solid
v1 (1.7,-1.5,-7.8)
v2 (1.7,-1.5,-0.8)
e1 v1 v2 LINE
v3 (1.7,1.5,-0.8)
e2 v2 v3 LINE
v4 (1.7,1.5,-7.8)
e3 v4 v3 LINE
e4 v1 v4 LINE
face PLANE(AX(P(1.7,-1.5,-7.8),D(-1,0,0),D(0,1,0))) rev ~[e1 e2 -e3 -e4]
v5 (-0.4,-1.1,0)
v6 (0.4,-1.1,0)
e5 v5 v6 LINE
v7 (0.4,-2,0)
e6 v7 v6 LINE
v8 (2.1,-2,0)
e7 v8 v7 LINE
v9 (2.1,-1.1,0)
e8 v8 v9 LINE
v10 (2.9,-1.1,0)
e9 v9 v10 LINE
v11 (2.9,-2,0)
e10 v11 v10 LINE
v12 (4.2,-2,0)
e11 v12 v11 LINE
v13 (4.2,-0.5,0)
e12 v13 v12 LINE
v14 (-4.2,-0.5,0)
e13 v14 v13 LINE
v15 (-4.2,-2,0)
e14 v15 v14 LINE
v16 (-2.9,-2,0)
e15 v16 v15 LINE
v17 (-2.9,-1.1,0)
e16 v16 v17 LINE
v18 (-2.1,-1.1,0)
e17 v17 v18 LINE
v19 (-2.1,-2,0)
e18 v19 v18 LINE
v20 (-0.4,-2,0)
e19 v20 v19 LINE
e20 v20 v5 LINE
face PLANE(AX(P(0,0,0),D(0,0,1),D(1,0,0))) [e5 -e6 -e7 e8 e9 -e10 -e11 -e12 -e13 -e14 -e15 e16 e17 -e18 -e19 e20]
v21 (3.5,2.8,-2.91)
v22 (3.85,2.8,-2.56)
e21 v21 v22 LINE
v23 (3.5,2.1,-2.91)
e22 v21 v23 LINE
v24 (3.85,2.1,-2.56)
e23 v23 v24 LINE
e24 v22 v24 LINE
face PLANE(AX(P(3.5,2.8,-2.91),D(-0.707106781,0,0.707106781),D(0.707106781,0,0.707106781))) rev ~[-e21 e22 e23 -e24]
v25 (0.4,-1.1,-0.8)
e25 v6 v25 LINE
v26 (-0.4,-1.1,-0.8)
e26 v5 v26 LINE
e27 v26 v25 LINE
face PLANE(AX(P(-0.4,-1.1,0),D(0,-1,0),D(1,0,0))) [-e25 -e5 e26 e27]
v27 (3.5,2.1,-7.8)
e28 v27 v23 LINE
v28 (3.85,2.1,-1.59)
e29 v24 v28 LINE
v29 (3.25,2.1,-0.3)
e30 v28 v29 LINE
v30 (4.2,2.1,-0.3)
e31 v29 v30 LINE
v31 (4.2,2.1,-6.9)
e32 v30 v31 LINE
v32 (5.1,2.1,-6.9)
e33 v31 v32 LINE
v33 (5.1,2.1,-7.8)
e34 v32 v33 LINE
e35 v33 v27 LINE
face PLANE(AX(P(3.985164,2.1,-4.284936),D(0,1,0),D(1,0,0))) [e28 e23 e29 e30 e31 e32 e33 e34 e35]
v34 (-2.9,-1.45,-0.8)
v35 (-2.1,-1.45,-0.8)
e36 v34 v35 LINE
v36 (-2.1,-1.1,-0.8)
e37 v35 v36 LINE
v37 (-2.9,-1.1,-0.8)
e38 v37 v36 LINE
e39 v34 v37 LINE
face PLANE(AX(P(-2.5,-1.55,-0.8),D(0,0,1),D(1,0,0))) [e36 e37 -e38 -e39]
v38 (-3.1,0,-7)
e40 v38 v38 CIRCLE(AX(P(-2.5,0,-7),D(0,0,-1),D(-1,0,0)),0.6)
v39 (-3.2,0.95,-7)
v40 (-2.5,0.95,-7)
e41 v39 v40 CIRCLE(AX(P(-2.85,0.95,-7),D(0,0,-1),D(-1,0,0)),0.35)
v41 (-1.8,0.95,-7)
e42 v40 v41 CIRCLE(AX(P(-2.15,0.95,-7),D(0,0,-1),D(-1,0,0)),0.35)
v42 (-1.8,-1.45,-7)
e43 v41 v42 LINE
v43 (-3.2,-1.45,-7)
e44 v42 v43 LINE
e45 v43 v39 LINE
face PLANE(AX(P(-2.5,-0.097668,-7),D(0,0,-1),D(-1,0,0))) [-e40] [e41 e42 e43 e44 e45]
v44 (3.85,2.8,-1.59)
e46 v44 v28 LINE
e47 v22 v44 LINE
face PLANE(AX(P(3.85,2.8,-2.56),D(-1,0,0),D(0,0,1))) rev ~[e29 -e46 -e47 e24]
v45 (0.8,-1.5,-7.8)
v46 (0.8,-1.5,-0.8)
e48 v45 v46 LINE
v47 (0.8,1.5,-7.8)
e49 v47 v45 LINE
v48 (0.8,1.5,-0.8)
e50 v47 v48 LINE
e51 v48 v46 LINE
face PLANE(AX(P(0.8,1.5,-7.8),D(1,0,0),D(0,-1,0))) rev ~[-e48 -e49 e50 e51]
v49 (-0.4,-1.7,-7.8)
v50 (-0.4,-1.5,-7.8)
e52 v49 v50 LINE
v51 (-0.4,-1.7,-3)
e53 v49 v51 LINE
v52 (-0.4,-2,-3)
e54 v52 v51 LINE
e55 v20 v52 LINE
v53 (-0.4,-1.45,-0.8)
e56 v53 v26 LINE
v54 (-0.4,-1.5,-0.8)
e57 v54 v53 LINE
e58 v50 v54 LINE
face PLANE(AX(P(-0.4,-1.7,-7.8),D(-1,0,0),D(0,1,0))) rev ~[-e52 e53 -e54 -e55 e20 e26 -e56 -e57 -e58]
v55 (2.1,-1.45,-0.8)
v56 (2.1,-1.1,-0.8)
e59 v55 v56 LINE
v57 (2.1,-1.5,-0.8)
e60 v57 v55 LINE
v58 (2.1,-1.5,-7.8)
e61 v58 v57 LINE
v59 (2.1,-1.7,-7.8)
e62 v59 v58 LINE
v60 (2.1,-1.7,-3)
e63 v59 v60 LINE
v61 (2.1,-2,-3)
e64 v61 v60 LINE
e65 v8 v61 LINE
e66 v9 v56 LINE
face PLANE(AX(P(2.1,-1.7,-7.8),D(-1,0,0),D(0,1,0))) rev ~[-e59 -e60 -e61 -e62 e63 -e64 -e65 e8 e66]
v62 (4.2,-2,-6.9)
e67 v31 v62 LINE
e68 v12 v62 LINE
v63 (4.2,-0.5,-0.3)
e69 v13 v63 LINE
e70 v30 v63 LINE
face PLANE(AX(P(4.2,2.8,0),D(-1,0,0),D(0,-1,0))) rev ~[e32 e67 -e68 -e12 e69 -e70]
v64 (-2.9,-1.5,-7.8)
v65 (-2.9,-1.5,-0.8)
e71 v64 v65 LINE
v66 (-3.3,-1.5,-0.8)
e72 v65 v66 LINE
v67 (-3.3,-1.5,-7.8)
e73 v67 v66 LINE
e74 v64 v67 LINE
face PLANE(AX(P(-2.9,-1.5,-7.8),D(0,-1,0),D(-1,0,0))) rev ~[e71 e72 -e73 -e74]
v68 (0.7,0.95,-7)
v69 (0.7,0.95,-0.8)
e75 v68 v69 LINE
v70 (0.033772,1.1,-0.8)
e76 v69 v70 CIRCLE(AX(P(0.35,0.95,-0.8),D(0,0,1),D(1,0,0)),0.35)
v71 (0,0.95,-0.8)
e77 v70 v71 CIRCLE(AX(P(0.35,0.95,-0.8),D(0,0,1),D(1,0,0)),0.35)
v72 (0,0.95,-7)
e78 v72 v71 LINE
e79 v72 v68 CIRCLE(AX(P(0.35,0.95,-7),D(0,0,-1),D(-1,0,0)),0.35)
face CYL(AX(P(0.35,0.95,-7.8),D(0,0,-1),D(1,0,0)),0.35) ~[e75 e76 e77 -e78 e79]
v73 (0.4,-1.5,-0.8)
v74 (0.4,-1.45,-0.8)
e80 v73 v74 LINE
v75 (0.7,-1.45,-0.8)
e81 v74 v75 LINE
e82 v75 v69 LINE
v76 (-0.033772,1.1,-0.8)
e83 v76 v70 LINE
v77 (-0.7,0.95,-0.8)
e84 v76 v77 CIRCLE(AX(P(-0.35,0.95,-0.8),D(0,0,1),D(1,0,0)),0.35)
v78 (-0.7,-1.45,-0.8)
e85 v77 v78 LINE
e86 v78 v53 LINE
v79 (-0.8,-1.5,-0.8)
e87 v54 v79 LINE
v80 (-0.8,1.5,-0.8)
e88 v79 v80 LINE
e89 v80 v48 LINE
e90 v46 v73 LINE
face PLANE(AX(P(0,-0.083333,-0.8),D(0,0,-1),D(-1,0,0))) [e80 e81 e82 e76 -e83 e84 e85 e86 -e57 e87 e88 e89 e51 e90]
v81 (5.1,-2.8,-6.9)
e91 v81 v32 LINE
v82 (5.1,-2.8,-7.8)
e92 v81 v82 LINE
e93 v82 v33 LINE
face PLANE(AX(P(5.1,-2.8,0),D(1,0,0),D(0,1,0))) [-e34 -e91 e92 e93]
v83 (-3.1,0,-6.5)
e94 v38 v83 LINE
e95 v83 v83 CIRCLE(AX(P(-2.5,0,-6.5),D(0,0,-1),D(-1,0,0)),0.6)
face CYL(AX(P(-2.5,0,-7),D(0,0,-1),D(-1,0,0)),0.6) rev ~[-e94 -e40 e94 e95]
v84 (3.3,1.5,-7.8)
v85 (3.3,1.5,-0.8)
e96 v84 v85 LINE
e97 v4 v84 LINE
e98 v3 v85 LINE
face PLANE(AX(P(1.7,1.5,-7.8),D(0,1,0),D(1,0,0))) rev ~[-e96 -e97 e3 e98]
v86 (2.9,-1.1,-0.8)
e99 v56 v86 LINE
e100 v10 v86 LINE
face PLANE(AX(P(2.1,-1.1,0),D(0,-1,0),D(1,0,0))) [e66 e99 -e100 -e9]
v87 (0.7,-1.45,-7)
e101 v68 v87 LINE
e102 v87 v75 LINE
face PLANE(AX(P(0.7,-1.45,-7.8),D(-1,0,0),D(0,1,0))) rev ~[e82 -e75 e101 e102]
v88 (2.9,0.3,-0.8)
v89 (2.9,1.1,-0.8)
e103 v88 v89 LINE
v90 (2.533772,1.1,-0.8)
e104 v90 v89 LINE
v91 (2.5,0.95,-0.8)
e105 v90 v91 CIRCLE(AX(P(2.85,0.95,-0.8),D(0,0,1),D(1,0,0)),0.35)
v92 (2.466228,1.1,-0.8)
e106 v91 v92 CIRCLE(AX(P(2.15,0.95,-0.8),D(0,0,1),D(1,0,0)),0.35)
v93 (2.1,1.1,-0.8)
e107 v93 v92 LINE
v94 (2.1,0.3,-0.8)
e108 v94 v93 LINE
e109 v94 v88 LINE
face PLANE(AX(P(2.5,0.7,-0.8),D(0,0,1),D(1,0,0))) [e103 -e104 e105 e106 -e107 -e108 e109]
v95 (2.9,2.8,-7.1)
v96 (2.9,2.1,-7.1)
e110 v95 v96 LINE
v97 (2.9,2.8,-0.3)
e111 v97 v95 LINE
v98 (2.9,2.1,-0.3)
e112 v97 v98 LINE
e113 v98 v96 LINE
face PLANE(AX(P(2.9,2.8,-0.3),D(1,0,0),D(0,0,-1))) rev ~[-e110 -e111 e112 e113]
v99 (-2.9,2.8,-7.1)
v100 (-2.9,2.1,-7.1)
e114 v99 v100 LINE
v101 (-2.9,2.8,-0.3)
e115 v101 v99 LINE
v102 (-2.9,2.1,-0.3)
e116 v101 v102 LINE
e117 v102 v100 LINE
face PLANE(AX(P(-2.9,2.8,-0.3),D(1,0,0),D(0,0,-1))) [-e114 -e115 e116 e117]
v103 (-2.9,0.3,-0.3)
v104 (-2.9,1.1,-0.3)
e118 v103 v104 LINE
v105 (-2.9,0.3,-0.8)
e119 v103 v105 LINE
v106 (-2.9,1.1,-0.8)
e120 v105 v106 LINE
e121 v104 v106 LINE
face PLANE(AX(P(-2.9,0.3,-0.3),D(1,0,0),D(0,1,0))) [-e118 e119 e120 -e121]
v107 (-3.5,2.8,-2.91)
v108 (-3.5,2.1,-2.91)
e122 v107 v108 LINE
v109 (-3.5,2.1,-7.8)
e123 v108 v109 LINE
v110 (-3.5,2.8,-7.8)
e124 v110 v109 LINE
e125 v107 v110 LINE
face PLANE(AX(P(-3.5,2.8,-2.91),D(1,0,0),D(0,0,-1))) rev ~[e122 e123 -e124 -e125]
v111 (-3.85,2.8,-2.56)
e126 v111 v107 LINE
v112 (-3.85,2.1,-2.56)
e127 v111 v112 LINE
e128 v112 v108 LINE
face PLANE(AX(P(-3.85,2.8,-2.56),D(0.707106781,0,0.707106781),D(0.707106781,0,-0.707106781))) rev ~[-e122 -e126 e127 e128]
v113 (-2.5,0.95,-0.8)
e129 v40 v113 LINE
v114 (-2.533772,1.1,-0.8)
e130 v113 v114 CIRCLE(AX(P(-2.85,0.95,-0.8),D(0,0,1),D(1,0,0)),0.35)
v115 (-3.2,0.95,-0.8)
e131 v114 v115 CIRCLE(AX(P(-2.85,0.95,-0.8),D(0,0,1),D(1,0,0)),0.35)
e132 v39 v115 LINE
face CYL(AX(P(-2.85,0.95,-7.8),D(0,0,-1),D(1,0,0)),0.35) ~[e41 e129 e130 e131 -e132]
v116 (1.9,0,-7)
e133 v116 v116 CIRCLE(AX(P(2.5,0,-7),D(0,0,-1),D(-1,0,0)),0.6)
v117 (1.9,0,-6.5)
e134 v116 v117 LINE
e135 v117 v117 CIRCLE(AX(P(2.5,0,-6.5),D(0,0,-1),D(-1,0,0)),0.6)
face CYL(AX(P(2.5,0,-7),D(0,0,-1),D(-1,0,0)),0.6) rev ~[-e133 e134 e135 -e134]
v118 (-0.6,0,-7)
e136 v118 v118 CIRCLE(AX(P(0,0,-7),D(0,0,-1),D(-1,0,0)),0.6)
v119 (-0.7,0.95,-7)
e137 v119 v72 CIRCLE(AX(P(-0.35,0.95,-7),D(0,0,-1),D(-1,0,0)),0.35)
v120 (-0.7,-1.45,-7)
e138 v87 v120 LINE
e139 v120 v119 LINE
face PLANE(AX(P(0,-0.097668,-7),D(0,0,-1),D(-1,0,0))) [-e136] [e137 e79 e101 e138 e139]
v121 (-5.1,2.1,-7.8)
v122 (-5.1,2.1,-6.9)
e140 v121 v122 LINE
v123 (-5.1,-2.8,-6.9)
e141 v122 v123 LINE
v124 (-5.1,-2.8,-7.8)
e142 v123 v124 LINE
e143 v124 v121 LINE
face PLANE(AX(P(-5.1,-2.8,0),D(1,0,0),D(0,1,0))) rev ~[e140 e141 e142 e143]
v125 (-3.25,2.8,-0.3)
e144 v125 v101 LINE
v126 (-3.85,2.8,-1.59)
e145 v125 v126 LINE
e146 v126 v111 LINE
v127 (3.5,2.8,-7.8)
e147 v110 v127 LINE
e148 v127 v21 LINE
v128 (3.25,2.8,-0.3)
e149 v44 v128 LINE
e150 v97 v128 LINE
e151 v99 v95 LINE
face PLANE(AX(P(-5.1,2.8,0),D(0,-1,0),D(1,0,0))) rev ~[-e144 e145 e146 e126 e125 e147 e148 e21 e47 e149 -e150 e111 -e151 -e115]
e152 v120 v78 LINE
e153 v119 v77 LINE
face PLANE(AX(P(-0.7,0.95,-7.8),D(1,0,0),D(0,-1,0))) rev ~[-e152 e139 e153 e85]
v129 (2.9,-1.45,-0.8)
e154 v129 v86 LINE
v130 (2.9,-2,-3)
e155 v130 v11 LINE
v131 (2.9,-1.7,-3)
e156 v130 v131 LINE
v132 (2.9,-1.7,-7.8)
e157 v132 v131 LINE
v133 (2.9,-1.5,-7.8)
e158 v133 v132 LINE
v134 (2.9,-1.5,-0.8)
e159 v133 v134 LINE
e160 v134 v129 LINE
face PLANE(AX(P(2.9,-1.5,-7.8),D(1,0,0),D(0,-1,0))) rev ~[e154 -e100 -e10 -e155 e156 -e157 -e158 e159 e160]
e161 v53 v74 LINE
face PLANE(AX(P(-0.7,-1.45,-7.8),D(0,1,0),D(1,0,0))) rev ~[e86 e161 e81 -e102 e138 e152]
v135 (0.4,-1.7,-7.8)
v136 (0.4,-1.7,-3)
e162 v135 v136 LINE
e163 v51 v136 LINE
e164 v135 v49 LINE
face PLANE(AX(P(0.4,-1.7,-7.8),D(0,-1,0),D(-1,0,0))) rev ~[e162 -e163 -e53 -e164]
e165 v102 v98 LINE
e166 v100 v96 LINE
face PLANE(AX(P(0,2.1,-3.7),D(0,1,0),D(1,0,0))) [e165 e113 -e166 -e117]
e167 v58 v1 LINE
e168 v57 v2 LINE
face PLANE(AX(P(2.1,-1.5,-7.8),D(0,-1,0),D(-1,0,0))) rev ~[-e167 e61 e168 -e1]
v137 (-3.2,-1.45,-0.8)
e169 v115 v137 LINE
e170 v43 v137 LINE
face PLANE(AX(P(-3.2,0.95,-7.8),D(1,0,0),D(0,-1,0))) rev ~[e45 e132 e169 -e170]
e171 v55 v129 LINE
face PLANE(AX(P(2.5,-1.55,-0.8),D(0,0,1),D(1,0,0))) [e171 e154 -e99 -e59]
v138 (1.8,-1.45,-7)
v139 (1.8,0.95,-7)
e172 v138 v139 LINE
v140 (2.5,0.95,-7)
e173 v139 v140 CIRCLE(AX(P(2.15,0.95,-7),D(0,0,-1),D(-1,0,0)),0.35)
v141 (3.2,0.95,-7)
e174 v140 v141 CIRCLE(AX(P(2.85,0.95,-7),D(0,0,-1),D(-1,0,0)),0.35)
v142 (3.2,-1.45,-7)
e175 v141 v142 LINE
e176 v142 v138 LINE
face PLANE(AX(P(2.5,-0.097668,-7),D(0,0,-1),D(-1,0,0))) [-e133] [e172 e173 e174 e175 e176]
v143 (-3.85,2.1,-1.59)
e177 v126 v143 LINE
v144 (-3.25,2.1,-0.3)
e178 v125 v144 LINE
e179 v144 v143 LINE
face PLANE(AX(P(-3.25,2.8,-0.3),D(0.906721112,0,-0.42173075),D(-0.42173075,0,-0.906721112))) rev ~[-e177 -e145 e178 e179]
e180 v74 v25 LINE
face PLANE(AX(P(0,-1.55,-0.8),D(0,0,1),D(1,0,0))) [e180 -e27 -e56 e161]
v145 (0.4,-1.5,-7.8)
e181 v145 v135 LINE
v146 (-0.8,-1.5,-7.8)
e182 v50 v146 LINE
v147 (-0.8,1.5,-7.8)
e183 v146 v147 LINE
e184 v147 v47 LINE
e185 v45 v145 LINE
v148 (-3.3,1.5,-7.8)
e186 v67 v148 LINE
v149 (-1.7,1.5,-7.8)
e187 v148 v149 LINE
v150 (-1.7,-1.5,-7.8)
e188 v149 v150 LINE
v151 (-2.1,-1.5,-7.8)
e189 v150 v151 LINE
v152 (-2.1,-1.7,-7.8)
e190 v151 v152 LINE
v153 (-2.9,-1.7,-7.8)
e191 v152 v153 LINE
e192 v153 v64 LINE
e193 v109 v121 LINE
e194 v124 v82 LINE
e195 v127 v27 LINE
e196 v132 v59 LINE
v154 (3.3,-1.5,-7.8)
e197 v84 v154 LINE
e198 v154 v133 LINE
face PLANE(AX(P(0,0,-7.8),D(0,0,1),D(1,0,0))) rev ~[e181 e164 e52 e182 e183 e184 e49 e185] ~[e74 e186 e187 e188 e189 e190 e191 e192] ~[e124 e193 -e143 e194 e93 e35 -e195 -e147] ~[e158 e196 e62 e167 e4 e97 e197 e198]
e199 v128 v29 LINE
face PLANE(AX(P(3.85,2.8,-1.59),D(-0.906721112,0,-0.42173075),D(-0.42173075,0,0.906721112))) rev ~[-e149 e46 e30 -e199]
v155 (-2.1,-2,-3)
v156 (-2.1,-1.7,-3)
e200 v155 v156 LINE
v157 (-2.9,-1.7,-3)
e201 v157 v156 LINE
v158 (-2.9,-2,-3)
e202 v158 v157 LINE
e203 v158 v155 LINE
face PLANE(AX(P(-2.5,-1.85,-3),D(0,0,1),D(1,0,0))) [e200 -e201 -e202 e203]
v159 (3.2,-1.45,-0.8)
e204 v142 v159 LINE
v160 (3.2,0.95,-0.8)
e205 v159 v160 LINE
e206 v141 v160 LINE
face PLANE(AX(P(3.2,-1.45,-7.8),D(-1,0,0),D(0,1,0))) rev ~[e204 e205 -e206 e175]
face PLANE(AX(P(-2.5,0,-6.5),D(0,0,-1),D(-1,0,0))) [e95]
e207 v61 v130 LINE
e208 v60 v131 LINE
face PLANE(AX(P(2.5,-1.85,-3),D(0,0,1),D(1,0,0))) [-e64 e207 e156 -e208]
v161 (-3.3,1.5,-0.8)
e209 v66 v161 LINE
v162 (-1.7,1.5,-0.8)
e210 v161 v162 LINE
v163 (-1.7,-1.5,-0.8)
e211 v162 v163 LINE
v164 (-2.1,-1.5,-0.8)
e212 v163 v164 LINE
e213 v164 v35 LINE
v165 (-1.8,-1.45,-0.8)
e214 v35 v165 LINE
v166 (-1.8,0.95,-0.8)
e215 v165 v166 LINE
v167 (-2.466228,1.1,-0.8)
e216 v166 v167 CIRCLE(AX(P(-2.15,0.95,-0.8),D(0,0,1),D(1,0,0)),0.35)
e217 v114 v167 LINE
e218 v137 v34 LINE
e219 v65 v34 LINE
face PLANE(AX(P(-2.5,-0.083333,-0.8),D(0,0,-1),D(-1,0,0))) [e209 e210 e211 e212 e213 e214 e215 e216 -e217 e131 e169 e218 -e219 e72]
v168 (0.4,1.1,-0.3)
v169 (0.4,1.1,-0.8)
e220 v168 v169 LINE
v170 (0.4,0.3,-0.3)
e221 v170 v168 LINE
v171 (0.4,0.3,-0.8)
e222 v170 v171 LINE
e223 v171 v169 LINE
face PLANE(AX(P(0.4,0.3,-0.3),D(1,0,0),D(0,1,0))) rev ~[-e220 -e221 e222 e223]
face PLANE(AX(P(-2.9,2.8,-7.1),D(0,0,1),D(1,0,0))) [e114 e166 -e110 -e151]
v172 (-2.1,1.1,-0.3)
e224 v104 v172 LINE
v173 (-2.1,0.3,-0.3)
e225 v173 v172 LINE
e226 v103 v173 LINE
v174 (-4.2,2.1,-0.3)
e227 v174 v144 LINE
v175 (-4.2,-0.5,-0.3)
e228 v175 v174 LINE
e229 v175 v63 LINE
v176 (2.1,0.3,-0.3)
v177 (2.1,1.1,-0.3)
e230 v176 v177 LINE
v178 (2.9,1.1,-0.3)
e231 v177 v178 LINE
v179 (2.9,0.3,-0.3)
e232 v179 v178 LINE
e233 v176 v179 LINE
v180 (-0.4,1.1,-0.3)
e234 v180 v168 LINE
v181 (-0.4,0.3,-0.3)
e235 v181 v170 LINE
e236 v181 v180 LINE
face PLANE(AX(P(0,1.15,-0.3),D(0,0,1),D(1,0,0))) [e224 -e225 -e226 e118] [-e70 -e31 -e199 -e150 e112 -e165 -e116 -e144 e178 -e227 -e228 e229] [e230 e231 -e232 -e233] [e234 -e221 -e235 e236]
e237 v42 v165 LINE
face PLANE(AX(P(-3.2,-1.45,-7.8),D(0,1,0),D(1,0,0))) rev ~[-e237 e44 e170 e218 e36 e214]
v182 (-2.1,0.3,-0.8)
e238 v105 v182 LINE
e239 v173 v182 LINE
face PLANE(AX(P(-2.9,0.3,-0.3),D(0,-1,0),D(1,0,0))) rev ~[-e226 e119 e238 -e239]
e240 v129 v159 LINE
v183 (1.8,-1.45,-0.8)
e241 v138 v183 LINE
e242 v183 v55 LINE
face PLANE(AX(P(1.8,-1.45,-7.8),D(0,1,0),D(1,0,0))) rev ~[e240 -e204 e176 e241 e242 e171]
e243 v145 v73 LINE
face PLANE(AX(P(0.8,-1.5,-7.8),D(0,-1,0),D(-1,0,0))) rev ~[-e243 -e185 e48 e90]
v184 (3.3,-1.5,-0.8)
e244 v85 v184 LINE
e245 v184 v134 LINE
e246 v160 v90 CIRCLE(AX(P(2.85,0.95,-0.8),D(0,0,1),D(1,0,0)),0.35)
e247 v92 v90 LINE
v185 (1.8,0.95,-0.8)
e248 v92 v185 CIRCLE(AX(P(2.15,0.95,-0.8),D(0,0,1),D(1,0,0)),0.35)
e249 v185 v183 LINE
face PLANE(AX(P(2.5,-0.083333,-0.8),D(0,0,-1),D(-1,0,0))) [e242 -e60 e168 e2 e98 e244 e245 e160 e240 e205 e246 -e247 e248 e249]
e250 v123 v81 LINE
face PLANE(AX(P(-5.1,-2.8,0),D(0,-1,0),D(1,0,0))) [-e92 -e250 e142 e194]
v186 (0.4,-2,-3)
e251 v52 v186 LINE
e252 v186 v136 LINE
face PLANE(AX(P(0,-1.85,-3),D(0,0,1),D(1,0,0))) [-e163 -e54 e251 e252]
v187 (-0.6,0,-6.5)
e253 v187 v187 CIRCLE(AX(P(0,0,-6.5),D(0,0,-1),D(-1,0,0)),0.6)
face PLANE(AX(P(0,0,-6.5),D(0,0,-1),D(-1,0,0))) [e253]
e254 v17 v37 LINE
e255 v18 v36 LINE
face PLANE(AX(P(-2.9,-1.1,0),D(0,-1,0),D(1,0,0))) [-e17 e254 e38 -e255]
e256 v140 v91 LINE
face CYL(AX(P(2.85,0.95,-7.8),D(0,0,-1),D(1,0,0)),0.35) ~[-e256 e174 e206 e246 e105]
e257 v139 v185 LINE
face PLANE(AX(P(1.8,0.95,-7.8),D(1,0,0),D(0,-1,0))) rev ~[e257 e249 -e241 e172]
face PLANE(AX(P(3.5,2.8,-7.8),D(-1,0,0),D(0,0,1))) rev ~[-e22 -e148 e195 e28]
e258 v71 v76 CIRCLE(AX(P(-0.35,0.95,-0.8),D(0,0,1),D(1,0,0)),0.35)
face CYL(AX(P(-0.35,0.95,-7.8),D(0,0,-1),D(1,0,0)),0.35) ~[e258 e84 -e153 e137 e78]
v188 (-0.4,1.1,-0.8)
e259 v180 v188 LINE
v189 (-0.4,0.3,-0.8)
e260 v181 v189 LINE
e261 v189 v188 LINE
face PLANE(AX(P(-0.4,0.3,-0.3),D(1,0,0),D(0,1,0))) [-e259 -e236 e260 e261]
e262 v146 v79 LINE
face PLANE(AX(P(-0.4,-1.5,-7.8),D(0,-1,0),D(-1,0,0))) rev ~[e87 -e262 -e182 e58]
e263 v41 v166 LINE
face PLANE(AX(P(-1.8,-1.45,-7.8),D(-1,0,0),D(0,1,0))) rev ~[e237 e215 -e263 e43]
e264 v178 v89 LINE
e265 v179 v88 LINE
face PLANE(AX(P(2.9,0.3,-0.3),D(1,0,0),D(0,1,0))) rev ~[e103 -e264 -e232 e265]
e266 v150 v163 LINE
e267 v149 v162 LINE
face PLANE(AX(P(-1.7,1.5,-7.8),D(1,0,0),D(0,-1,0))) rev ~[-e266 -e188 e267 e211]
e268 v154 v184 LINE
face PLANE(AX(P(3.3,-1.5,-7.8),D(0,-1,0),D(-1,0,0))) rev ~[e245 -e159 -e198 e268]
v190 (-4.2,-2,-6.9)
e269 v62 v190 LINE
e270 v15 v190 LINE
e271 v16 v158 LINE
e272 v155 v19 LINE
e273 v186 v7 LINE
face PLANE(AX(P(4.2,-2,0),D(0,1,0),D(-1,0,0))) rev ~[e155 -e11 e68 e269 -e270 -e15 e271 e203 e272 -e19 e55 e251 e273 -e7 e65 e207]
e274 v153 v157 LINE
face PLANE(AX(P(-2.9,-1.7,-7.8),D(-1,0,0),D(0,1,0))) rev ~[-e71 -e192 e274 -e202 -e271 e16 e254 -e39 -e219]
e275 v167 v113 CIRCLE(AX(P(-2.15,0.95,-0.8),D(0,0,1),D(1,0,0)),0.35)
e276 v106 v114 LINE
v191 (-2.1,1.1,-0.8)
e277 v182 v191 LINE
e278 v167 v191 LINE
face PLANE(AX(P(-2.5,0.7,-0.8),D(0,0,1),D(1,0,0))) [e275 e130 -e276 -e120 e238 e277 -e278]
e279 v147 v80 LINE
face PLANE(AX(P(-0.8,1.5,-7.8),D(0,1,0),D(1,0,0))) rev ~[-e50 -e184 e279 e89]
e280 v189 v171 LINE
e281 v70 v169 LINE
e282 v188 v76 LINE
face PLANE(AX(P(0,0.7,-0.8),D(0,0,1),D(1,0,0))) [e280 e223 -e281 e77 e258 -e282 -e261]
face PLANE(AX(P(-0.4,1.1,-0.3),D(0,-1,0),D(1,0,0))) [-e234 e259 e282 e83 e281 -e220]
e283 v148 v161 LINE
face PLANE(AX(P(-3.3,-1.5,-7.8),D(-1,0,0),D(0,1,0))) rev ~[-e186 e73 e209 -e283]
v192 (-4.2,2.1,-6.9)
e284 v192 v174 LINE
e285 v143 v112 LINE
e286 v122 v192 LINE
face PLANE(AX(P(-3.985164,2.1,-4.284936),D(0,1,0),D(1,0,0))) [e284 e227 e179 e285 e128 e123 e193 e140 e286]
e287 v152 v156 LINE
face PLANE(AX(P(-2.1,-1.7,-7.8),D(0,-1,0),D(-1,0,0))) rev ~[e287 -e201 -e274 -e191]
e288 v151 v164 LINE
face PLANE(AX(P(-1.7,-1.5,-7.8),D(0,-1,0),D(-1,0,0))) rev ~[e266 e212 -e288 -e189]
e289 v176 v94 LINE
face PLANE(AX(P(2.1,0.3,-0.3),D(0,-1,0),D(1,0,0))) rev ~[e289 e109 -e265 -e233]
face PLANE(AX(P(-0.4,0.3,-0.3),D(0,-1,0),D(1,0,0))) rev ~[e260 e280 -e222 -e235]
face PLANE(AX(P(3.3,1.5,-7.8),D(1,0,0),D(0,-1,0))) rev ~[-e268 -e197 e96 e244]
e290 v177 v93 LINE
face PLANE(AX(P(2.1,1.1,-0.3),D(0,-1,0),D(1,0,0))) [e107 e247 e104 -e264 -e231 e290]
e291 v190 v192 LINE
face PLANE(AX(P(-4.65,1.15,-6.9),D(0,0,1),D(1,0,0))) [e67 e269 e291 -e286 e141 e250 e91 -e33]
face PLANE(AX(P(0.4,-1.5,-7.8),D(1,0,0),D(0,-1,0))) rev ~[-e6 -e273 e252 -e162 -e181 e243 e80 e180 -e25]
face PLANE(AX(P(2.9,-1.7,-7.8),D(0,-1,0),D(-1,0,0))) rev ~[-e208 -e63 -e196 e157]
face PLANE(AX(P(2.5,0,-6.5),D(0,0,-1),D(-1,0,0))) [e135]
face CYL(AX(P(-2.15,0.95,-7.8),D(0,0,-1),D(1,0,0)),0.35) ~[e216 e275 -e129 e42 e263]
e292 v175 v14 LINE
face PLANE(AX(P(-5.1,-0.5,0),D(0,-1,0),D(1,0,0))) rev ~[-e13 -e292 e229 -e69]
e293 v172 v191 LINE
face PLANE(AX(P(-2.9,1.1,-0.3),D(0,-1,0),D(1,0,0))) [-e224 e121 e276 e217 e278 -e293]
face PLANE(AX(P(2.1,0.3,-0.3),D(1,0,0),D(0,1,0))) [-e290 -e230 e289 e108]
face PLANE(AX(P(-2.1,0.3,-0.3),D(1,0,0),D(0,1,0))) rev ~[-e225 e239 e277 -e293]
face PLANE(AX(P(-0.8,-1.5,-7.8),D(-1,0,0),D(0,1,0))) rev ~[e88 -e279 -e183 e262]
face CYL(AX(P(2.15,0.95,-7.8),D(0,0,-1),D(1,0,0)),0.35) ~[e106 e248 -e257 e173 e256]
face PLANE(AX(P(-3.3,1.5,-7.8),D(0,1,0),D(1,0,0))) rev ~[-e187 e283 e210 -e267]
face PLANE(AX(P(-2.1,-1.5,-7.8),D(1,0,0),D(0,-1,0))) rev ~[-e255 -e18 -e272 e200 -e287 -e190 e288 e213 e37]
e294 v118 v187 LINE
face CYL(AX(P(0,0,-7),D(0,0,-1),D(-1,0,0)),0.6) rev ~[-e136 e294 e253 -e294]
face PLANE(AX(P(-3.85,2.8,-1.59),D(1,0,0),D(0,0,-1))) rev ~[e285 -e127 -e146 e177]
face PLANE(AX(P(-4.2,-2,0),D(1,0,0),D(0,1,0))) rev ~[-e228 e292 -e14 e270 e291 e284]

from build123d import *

# Parameters (mm, degrees)
ESQUISSE1_W             = 10.2
ESQUISSE1_H             = 5.6
BOSS_EXTRU_1_DEPTH      = 7.8
ESQUISSE2_W             = 10.2
ESQUISSE2_H             = 3.3
ENL_V_MAT_EXTRU_1_DEPTH = 0.3
ESQUISSE4_W             = 0.9
ESQUISSE4_H             = 3.3
ENL_V_MAT_EXTRU_2_DEPTH = 6.9
ESQUISSE5_W             = 5.8
ESQUISSE5_H             = 6.8
ENL_V_MAT_EXTRU_3_DEPTH = 0.7
ESQUISSE6_W             = 0.8
ESQUISSE6_H             = 0.9
ENL_V_MAT_EXTRU_4_DEPTH = 0.8
ESQUISSE7_W             = 0.8
ESQUISSE7_H             = 0.8
ENL_V_MAT_EXTRU_5_DEPTH = 0.5
ENL_V_MAT_EXTRU_6_DEPTH = 7
ENL_V_MAT_EXTRU_7_DEPTH = 0.8
ESQUISSE10_R            = 0.6
ENL_V_MAT_EXTRU_8_DEPTH = 0.5
ESQUISSE11_W            = 0.8
ESQUISSE11_H            = 0.3
ENL_V_MAT_EXTRU_9_DEPTH = 2.2


with BuildPart() as part:
    # Esquisse1 → Boss.-Extru.1 (new body)
    with BuildSketch(Plane.XY):
        Rectangle(ESQUISSE1_W, ESQUISSE1_H)
    extrude(amount=-BOSS_EXTRU_1_DEPTH)

    # Esquisse2 → Enlèv. mat.-Extru.1 (cut)
    with BuildSketch(Plane.XY):
        with Locations((0, 1.15)):
            Rectangle(ESQUISSE2_W, ESQUISSE2_H)
    extrude(amount=-ENL_V_MAT_EXTRU_1_DEPTH, mode=Mode.SUBTRACT)

    # Esquisse4 → Enlèv. mat.-Extru.2 (cut)
    with BuildSketch(Plane.XY):
        with Locations((-4.65, 1.15)):
            Rectangle(ESQUISSE4_W, ESQUISSE4_H)
        Polygon((5.1, -2.8), (5.1, -0.5), (4.2, -0.5), (4.2, -2), (-4.2, -2), (-4.2, -0.5), (-5.1, -0.5), (-5.1, -2.8), align=None)
        with Locations((4.65, 1.15)):
            Rectangle(ESQUISSE4_W, ESQUISSE4_H)
    extrude(amount=-ENL_V_MAT_EXTRU_2_DEPTH, mode=Mode.SUBTRACT)

    # Esquisse5 → Enlèv. mat.-Extru.3 (cut)
    with BuildSketch(Plane(origin=(0, 2.8, 0), x_dir=(1, 0, 0), z_dir=(0, 1, 0))):
        Polygon((-3.5, 2.91), (-3.5, 7.8), (-5.1, 7.8), (-5.1, 6.9), (-4.2, 6.9), (-4.2, 0.3), (-3.25, 0.3), (-3.85, 1.59), (-3.85, 2.56), align=None)
        Polygon((5.1, 7.8), (3.5, 7.8), (3.5, 2.91), (3.85, 2.56), (3.85, 1.59), (3.25, 0.3), (4.2, 0.3), (4.2, 6.9), (5.1, 6.9), align=None)
        with Locations((0, 3.7)):
            Rectangle(ESQUISSE5_W, ESQUISSE5_H)
    extrude(amount=-ENL_V_MAT_EXTRU_3_DEPTH, mode=Mode.SUBTRACT)

    # Esquisse6 → Enlèv. mat.-Extru.4 (cut)
    with BuildSketch(Plane.XY):
        with Locations((-2.5, -1.55)):
            Rectangle(ESQUISSE6_W, ESQUISSE6_H)
        with Locations((0, -1.55)):
            Rectangle(ESQUISSE6_W, ESQUISSE6_H)
        with Locations((2.5, -1.55)):
            Rectangle(ESQUISSE6_W, ESQUISSE6_H)
    extrude(amount=-ENL_V_MAT_EXTRU_4_DEPTH, mode=Mode.SUBTRACT)

    # Esquisse7 → Enlèv. mat.-Extru.5 (cut)
    with BuildSketch(Plane.XY.offset(-0.3)):
        with Locations((-2.5, 0.7)):
            Rectangle(ESQUISSE7_W, ESQUISSE7_H)
        with Locations((0, 0.7)):
            Rectangle(ESQUISSE7_W, ESQUISSE7_H)
        with Locations((2.5, 0.7)):
            Rectangle(ESQUISSE7_W, ESQUISSE7_H)
    extrude(amount=-ENL_V_MAT_EXTRU_5_DEPTH, mode=Mode.SUBTRACT)

    # Esquisse8 → Enlèv. mat.-Extru.6 (cut)
    with BuildSketch(Plane(origin=(0, 0, -7.8), x_dir=(-1, 0, 0), z_dir=(0, 0, -1))):
        Polygon((0.4, -1.5), (0.8, -1.5), (0.8, 1.5), (-0.8, 1.5), (-0.8, -1.5), (-0.4, -1.5), (-0.4, -1.7), (0.4, -1.7), align=None)
        with BuildLine():
            ThreePointArc((-0.7, 0.95), (-0.35, 1.3), (0, 0.95))
            ThreePointArc((0, 0.95), (0.35, 1.3), (0.7, 0.95))
            Line((0.7, 0.95), (0.7, -1.45))
            Line((0.7, -1.45), (-0.7, -1.45))
            Line((-0.7, -1.45), (-0.7, 0.95))
        make_face(mode=Mode.SUBTRACT)
        Polygon((-2.1, -1.5), (-1.7, -1.5), (-1.7, 1.5), (-3.3, 1.5), (-3.3, -1.5), (-2.9, -1.5), (-2.9, -1.7), (-2.1, -1.7), align=None)
        with BuildLine():
            ThreePointArc((-3.2, 0.95), (-2.85, 1.3), (-2.5, 0.95))
            ThreePointArc((-2.5, 0.95), (-2.15, 1.3), (-1.8, 0.95))
            Line((-1.8, 0.95), (-1.8, -1.45))
            Line((-1.8, -1.45), (-3.2, -1.45))
            Line((-3.2, -1.45), (-3.2, 0.95))
        make_face(mode=Mode.SUBTRACT)
        Polygon((2.9, -1.5), (3.3, -1.5), (3.3, 1.5), (1.7, 1.5), (1.7, -1.5), (2.1, -1.5), (2.1, -1.7), (2.9, -1.7), align=None)
        with BuildLine():
            ThreePointArc((1.8, 0.95), (2.15, 1.3), (2.5, 0.95))
            ThreePointArc((2.5, 0.95), (2.85, 1.3), (3.2, 0.95))
            Line((3.2, 0.95), (3.2, -1.45))
            Line((3.2, -1.45), (1.8, -1.45))
            Line((1.8, -1.45), (1.8, 0.95))
        make_face(mode=Mode.SUBTRACT)
    extrude(amount=-ENL_V_MAT_EXTRU_6_DEPTH, mode=Mode.SUBTRACT)

    # Esquisse9 → Enlèv. mat.-Extru.7 (cut)
    with BuildSketch(Plane(origin=(0, 0, -7.8), x_dir=(-1, 0, 0), z_dir=(0, 0, -1))):
        with BuildLine():
            Line((-0.7, 0.95), (-0.7, -1.45))
            Line((-0.7, -1.45), (0.7, -1.45))
            Line((0.7, -1.45), (0.7, 0.95))
            ThreePointArc((0.7, 0.95), (0.35, 1.3), (0, 0.95))
            ThreePointArc((0, 0.95), (-0.35, 1.3), (-0.7, 0.95))
        make_face()
        with BuildLine():
            Line((-3.2, 0.95), (-3.2, -1.45))
            Line((-3.2, -1.45), (-1.8, -1.45))
            Line((-1.8, -1.45), (-1.8, 0.95))
            ThreePointArc((-1.8, 0.95), (-2.15, 1.3), (-2.5, 0.95))
            ThreePointArc((-2.5, 0.95), (-2.85, 1.3), (-3.2, 0.95))
        make_face()
        with BuildLine():
            Line((1.8, 0.95), (1.8, -1.45))
            Line((1.8, -1.45), (3.2, -1.45))
            Line((3.2, -1.45), (3.2, 0.95))
            ThreePointArc((3.2, 0.95), (2.85, 1.3), (2.5, 0.95))
            ThreePointArc((2.5, 0.95), (2.15, 1.3), (1.8, 0.95))
        make_face()
    extrude(amount=-ENL_V_MAT_EXTRU_7_DEPTH, mode=Mode.SUBTRACT)

    # Esquisse10 → Enlèv. mat.-Extru.8 (cut)
    with BuildSketch(Plane(origin=(0, 0, -7), x_dir=(-1, 0, 0), z_dir=(0, 0, -1))):
        Circle(ESQUISSE10_R)
        with Locations((-2.5, 0)):
            Circle(ESQUISSE10_R)
        with Locations((2.5, 0)):
            Circle(ESQUISSE10_R)
    extrude(amount=-ENL_V_MAT_EXTRU_8_DEPTH, mode=Mode.SUBTRACT)

    # Esquisse11 → Enlèv. mat.-Extru.9 (cut)
    with BuildSketch(Plane.XY.offset(-0.8)):
        with Locations((-2.5, -1.85)):
            Rectangle(ESQUISSE11_W, ESQUISSE11_H)
        with Locations((0, -1.85)):
            Rectangle(ESQUISSE11_W, ESQUISSE11_H)
        with Locations((2.5, -1.85)):
            Rectangle(ESQUISSE11_W, ESQUISSE11_H)
    extrude(amount=-ENL_V_MAT_EXTRU_9_DEPTH, mode=Mode.SUBTRACT)


solid = part.part
